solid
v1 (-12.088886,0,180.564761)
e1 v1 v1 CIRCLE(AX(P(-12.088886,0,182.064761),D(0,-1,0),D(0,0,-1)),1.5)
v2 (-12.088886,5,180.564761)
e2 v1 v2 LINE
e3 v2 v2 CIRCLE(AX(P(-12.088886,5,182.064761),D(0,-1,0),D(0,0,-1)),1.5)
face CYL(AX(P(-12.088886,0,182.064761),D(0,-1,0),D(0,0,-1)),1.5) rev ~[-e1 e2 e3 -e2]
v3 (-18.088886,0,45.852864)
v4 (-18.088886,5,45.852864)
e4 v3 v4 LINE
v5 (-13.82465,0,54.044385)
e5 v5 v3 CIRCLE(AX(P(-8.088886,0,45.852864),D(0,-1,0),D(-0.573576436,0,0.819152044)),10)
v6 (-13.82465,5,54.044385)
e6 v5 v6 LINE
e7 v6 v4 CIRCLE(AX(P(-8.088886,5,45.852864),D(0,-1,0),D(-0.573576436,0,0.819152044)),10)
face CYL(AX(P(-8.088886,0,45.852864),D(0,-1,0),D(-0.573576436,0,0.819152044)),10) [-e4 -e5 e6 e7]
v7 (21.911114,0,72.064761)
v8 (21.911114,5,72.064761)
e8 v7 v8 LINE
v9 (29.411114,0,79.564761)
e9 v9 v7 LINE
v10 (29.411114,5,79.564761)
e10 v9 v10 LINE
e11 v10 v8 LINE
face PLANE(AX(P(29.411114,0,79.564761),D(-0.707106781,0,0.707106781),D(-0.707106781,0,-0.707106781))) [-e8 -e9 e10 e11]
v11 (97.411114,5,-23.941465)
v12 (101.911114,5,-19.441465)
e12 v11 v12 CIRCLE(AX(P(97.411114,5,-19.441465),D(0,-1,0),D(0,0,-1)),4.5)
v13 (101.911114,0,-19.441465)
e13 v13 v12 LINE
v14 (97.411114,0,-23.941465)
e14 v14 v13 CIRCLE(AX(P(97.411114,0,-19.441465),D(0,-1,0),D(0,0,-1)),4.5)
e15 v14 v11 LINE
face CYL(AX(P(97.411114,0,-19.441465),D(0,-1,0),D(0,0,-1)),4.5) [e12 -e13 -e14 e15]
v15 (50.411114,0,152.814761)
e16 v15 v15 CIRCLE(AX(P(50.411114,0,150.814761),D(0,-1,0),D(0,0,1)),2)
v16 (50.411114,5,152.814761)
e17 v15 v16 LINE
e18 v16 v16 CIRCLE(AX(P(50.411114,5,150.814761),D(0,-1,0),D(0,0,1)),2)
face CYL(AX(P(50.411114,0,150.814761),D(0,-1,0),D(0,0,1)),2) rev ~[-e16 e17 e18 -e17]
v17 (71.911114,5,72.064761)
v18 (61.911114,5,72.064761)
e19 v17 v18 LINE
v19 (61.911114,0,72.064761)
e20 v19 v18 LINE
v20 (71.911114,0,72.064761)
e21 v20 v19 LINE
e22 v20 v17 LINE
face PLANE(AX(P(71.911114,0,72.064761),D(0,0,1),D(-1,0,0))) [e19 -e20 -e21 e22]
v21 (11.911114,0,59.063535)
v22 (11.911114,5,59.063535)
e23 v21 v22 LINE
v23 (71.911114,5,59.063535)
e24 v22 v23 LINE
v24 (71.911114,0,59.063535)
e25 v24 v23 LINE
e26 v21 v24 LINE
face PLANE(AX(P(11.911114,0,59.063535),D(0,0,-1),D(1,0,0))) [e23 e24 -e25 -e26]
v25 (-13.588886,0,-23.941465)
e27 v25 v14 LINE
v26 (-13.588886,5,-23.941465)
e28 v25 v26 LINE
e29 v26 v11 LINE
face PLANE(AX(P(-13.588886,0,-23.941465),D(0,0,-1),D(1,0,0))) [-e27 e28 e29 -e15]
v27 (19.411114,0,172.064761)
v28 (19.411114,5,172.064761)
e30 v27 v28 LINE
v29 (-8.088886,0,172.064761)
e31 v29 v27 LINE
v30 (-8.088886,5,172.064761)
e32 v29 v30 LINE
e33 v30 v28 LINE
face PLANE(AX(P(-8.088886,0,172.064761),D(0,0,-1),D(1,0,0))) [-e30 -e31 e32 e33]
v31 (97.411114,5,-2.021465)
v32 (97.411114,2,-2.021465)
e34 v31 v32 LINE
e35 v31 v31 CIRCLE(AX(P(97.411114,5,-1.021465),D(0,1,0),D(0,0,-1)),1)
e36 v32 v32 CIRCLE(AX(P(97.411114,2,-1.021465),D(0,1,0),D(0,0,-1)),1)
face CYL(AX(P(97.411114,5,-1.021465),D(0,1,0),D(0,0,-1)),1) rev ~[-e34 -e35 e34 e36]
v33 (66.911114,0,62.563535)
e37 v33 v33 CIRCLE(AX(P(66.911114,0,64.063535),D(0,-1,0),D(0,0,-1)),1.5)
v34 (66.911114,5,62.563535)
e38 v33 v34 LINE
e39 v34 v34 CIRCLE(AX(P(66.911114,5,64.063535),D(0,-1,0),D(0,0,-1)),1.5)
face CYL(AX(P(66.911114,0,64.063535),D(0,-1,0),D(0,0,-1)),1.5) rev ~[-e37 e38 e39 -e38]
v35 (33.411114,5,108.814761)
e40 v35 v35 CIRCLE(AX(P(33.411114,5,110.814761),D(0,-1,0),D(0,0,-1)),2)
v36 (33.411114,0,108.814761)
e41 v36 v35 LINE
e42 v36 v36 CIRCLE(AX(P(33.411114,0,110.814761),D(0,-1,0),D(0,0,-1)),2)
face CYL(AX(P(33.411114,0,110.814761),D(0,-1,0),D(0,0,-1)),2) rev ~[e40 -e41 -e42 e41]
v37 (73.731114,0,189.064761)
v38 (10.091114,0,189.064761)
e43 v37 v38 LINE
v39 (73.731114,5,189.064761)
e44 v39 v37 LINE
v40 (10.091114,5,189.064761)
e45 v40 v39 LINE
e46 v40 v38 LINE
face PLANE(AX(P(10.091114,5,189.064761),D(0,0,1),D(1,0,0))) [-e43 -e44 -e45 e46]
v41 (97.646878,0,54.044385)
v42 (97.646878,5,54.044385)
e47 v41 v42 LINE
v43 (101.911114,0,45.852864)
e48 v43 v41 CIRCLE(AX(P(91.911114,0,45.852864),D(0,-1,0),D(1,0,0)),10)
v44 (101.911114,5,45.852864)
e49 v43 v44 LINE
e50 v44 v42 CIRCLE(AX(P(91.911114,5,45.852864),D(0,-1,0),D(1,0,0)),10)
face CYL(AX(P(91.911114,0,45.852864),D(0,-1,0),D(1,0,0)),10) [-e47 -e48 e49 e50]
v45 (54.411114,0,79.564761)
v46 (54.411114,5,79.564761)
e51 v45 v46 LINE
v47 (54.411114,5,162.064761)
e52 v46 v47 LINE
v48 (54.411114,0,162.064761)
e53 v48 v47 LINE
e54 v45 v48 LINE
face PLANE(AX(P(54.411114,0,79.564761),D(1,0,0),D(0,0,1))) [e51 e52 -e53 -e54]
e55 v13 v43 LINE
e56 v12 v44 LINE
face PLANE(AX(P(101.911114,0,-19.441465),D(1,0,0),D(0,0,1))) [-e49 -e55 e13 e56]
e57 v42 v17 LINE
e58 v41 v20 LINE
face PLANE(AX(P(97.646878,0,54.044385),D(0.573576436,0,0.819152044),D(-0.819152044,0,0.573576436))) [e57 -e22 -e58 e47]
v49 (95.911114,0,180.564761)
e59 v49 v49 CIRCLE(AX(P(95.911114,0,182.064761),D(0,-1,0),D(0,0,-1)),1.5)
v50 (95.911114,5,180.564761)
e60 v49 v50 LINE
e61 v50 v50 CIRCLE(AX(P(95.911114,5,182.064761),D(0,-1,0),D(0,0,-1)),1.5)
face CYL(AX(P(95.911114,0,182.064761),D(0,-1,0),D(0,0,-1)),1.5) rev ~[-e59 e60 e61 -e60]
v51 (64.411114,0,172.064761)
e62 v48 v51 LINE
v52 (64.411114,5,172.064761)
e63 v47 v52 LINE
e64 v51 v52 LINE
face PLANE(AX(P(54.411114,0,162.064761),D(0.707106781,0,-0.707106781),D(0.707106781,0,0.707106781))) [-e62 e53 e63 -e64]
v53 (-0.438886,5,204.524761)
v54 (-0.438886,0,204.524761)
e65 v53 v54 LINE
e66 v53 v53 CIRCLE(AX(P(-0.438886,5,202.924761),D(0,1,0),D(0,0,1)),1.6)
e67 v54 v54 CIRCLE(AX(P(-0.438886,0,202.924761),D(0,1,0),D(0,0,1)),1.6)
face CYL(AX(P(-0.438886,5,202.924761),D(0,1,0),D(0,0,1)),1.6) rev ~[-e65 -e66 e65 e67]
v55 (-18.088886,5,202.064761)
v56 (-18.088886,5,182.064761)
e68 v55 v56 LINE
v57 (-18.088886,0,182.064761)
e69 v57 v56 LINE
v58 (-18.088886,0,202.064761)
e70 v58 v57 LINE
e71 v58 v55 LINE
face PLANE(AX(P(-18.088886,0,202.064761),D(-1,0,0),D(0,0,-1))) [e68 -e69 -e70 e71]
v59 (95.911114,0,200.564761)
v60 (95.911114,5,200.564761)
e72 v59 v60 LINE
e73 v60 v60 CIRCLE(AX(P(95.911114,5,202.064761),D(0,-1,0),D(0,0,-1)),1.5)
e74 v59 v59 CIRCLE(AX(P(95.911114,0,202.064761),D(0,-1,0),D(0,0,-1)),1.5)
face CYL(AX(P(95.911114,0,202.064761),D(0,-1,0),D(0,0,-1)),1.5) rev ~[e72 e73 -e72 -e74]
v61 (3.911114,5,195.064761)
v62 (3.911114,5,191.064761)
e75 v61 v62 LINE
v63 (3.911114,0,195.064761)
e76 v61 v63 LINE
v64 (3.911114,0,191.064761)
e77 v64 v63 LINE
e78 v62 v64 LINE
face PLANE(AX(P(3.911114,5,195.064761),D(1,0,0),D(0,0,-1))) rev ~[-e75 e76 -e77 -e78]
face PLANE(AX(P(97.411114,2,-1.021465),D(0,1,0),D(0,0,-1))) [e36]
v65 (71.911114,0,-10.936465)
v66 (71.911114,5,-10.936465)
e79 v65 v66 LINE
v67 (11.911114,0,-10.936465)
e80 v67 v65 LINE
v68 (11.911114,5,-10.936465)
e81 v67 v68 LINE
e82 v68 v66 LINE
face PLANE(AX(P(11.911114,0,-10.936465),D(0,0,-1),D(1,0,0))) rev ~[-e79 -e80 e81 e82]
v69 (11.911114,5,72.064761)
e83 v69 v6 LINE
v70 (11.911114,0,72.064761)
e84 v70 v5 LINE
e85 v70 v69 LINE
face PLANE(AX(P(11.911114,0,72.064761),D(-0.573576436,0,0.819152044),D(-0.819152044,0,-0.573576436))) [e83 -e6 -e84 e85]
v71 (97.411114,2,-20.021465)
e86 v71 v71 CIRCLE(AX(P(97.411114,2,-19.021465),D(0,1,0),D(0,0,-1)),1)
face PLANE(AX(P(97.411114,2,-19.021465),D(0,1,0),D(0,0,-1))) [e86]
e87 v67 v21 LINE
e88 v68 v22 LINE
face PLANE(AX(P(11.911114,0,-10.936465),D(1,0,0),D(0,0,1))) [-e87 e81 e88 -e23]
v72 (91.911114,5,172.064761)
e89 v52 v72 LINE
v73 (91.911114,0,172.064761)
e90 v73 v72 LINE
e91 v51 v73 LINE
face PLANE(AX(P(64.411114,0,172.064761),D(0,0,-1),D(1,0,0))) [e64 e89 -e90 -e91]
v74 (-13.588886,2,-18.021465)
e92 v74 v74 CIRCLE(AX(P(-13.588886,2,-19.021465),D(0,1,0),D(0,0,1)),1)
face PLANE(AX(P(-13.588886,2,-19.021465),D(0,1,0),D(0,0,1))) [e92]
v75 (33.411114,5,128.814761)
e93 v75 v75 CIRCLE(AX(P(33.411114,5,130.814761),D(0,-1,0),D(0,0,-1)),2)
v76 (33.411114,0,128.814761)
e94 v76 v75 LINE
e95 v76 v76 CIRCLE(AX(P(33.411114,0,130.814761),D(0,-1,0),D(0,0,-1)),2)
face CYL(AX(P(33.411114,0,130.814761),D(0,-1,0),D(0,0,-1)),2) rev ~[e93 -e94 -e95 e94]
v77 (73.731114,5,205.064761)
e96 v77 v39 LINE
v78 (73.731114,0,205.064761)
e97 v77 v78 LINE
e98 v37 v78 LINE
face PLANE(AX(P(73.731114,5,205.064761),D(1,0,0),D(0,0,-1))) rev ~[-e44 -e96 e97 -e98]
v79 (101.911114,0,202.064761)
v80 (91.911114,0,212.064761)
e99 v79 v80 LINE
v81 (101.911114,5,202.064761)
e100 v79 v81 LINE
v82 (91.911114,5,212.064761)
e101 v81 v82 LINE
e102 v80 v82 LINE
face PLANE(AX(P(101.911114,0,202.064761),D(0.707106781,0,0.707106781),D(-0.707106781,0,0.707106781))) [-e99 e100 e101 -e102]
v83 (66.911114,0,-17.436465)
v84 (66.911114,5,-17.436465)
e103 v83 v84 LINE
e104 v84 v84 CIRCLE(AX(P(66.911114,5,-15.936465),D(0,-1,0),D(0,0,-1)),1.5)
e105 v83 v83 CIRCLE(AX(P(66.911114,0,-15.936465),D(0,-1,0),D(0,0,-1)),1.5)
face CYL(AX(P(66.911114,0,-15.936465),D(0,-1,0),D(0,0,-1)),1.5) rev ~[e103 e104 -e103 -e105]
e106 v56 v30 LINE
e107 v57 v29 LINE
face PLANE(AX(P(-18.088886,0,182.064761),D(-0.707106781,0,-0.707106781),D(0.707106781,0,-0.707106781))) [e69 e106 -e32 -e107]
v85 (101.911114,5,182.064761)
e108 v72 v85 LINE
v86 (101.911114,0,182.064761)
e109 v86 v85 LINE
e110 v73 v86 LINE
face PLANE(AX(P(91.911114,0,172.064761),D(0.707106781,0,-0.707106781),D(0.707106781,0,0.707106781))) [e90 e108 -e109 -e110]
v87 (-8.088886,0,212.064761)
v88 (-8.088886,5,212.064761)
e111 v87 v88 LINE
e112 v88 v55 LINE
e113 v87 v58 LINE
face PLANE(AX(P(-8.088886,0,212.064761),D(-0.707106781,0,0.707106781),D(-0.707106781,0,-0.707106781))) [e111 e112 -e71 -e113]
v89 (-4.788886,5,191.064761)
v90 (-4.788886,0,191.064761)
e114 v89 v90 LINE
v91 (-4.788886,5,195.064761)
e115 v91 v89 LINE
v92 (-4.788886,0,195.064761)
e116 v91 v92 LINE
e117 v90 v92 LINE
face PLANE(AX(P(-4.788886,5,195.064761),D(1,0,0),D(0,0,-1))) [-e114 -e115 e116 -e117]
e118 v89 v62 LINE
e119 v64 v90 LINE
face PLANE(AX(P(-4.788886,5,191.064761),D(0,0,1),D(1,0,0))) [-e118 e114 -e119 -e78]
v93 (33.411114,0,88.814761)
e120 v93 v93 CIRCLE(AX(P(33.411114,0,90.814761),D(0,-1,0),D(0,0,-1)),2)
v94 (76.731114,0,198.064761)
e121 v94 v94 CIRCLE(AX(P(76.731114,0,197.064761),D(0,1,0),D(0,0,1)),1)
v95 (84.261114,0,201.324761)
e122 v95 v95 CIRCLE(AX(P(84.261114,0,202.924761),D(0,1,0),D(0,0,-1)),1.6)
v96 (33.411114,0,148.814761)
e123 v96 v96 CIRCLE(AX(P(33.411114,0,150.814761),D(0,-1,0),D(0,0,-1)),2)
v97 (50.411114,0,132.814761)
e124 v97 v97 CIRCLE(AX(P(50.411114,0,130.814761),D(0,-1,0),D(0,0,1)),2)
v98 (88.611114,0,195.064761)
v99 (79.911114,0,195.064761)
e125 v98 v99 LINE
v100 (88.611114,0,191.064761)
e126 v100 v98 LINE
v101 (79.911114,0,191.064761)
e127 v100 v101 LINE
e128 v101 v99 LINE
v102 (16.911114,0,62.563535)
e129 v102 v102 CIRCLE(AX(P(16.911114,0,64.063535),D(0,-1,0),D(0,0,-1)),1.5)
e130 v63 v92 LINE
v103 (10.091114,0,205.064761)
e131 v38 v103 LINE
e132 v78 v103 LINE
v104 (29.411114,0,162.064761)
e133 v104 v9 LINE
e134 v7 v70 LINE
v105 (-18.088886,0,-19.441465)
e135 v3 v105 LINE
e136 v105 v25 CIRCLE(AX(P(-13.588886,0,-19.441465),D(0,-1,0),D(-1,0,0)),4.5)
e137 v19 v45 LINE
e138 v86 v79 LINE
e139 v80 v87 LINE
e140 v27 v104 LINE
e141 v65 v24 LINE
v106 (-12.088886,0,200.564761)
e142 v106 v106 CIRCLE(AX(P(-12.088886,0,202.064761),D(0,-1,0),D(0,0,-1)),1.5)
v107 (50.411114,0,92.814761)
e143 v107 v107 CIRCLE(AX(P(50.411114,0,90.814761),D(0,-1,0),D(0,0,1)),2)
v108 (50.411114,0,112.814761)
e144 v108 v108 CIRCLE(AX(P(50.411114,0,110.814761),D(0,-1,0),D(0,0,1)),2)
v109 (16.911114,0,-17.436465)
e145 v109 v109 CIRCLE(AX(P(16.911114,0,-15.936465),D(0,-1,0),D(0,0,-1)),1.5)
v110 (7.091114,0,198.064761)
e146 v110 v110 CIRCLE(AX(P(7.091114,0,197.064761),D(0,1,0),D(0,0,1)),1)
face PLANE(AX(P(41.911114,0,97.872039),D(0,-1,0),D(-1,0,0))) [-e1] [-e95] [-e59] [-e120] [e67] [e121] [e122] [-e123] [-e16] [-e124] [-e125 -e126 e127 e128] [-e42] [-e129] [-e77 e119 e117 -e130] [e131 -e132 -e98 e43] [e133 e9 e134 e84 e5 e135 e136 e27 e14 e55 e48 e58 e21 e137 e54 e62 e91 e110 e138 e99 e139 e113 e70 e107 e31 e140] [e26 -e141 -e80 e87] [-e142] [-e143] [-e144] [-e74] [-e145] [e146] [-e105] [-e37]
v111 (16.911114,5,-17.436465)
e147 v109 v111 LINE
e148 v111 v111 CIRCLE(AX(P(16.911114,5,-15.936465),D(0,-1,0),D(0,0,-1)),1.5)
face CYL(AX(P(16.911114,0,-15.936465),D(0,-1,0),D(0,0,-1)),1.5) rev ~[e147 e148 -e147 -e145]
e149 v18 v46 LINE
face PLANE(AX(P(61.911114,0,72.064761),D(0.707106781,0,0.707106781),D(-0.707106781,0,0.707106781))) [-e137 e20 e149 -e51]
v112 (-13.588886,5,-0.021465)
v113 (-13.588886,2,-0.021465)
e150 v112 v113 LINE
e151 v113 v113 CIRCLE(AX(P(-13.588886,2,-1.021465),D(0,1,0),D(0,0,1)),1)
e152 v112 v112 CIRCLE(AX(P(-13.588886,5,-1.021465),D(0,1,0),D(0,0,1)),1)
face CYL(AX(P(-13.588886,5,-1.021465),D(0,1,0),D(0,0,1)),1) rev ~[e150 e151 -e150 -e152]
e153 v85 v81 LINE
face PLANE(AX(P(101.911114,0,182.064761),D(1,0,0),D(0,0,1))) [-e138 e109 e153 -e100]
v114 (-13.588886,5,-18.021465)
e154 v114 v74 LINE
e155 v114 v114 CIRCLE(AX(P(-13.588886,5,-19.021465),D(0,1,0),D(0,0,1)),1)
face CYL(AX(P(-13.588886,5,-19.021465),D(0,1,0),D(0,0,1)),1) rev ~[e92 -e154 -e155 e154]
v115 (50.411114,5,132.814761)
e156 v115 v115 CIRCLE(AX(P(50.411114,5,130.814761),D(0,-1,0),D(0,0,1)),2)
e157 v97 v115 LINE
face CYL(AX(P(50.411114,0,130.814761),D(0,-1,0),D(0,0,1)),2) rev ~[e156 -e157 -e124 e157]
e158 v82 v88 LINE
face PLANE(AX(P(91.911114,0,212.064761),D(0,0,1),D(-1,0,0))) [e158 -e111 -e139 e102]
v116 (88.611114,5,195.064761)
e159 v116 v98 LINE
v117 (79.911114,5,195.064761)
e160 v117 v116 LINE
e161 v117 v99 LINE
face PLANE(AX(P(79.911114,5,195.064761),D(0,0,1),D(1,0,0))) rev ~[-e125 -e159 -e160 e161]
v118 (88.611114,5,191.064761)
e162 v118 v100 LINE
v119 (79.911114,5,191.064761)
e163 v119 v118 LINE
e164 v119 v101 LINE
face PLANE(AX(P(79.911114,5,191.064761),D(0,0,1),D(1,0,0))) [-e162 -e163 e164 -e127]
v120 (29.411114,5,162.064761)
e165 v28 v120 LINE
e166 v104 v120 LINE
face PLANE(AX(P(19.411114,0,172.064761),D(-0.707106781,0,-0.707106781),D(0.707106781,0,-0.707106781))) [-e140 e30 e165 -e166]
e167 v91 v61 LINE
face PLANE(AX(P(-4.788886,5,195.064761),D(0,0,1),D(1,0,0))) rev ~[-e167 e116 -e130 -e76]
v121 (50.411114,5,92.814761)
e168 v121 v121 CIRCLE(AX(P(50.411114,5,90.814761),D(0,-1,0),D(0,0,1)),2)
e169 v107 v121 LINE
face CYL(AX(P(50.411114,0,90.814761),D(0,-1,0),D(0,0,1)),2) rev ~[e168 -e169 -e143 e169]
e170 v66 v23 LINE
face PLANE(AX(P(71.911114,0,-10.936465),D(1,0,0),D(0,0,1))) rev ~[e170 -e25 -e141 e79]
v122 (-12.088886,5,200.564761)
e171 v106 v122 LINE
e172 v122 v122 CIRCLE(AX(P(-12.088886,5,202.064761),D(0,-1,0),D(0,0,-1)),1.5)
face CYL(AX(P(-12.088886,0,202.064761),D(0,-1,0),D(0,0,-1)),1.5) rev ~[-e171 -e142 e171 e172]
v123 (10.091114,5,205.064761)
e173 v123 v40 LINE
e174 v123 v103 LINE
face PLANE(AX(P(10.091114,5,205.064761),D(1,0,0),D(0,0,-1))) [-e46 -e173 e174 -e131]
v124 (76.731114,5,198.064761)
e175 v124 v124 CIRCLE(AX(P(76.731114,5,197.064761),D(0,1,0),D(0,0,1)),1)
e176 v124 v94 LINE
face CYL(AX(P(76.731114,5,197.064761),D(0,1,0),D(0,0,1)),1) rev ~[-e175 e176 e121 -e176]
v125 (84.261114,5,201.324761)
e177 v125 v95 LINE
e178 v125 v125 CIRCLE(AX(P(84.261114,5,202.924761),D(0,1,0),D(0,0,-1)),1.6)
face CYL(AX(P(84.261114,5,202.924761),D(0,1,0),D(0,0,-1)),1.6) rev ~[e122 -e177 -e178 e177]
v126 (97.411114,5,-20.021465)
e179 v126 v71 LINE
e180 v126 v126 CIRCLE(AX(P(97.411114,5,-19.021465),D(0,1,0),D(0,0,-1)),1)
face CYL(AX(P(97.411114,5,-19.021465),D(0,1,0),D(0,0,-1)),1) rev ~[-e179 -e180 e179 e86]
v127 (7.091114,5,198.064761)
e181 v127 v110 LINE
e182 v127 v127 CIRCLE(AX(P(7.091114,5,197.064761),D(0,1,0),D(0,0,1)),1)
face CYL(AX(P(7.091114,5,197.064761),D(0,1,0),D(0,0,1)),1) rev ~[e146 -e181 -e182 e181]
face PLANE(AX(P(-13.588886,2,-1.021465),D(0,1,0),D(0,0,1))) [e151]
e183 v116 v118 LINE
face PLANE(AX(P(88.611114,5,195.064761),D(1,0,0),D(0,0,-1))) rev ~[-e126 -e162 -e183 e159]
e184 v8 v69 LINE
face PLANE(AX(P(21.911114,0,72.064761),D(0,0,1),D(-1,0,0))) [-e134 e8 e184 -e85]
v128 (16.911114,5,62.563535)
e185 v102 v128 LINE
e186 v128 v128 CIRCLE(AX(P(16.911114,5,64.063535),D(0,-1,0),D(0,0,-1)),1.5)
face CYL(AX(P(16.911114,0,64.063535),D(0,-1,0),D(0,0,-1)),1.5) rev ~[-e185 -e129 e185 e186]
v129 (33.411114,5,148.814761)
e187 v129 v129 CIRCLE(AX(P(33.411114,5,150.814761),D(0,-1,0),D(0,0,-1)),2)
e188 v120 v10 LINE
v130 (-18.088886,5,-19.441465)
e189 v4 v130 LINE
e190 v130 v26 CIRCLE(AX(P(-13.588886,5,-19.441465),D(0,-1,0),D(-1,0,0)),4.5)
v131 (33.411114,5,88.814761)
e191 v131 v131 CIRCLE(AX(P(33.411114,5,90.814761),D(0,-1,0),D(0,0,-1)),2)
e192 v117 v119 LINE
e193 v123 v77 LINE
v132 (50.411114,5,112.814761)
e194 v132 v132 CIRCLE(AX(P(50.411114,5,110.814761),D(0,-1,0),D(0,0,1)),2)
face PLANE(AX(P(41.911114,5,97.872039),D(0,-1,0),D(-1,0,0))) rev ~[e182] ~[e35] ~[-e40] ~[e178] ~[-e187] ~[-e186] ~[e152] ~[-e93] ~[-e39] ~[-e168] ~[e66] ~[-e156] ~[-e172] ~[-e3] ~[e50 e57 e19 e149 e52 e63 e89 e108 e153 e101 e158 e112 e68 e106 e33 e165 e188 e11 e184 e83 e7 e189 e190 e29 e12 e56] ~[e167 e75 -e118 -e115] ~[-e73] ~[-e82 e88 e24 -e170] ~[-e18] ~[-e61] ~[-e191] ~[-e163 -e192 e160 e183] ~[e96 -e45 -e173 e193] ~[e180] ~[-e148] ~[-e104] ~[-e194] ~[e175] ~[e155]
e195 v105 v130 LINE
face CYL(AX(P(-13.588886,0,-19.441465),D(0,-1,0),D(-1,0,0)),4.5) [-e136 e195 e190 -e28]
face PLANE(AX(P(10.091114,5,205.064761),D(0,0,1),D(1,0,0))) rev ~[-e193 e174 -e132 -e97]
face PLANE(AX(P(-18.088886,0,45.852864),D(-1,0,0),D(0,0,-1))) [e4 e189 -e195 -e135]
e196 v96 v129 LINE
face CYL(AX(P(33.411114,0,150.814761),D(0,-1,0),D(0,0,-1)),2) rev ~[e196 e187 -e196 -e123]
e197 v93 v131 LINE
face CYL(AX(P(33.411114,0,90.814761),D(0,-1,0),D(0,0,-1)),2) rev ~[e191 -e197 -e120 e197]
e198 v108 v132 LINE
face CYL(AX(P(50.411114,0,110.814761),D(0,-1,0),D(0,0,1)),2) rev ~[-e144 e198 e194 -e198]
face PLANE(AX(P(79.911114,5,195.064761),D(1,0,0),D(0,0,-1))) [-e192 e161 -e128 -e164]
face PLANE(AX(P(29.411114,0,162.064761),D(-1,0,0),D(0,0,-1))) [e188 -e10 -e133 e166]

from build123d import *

# Parameters (mm, degrees)
BASE_DEPTH               = 5
ESBO_O2_R                = 1
FURO_BRACKET_MOTOR_DEPTH = 3
ESBO_O4_W                = 60
ESBO_O4_H                = 70
ENCAIXE_PCB_DEPTH        = 236.334523507
ESBO_O6_R                = 1.5
PARAFUSO_PCB_DEPTH       = 236.334523507
ESBO_O7_R                = 2
ENFORCA_GATO_DEPTH       = 236.334523507
ESBO_O8_R                = 1.5
PARAFUSO_APOIO_DEPTH     = 10
ESBO_O9_R                = 1
ESBO_O9_R_2              = 1.6
ESBO_O9_W                = 63.64
ESBO_O9_H                = 16
ESBO_O9_W_2              = 8.7
ESBO_O9_H_2              = 4
CORTE_EXTRUS_O1_DEPTH    = 10


with BuildPart() as part:
    # Esboço1 → Base (new body)
    with BuildSketch(Plane(origin=(0, 0, 0), x_dir=(1, 0, 0), z_dir=(0, 1, 0))):
        with BuildLine():
            Line((-18.088885989, 17.941465294), (-18.088885989, 19.441465294))
            ThreePointArc((-18.088885989, 19.441465294), (-16.770866504, 22.623445809), (-13.588885989, 23.941465294))
            Line((-13.588885989, 23.941465294), (97.411114011, 23.941465294))
            ThreePointArc((97.411114011, 23.941465294), (100.593094526, 22.623445809), (101.911114011, 19.441465294))
            Line((101.911114011, 19.441465294), (101.911114011, 17.941465294))
            Line((101.911114011, 17.941465294), (101.911114011, -45.8528642))
            ThreePointArc((101.911114011, -45.8528642), (100.781222343, -50.470350333), (97.646878374, -54.044384643))
            Line((97.646878374, -54.044384643), (71.911114011, -72.064760852))
            Line((71.911114011, -72.064760852), (61.911114011, -72.064760852))
            Line((61.911114011, -72.064760852), (54.411114011, -79.564760852))
            Line((54.411114011, -79.564760852), (54.411114011, -162.064760852))
            Line((54.411114011, -162.064760852), (64.411114011, -172.064760852))
            Line((64.411114011, -172.064760852), (91.911114011, -172.064760852))
            Line((91.911114011, -172.064760852), (101.911114011, -182.064760852))
            Line((101.911114011, -182.064760852), (101.911114011, -202.064760852))
            Line((101.911114011, -202.064760852), (91.911114011, -212.064760852))
            Line((91.911114011, -212.064760852), (-8.088885989, -212.064760852))
            Line((-8.088885989, -212.064760852), (-18.088885989, -202.064760852))
            Line((-18.088885989, -202.064760852), (-18.088885989, -182.064760852))
            Line((-18.088885989, -182.064760852), (-8.088885989, -172.064760852))
            Line((-8.088885989, -172.064760852), (19.411114011, -172.064760852))
            Line((19.411114011, -172.064760852), (29.411114011, -162.064760852))
            Line((29.411114011, -162.064760852), (29.411114011, -79.564760852))
            Line((29.411114011, -79.564760852), (21.911114011, -72.064760852))
            Line((21.911114011, -72.064760852), (11.911114011, -72.064760852))
            Line((11.911114011, -72.064760852), (-13.824650353, -54.044384643))
            ThreePointArc((-13.824650353, -54.044384643), (-16.958994321, -50.470350333), (-18.088885989, -45.8528642))
            Line((-18.088885989, -45.8528642), (-18.088885989, 17.941465294))
        make_face()
    extrude(amount=BASE_DEPTH)

    # Esboço2 → Furo Bracket Motor (cut)
    with BuildSketch(Plane(origin=(0, 5, 0), x_dir=(1, 0, 0), z_dir=(0, 1, 0))):
        with Locations(Location((-13.588885989, 19.021465294, 0), (0, 0, 270))):
            Circle(ESBO_O2_R)
        with Locations(Location((-13.588885989, 1.021465294, 0), (0, 0, 270))):
            Circle(ESBO_O2_R)
        with Locations(Location((97.411114011, 1.021465294, 0), (0, 0, 90))):
            Circle(ESBO_O2_R)
        with Locations(Location((97.411114011, 19.021465294, 0), (0, 0, 90))):
            Circle(ESBO_O2_R)
    extrude(amount=-FURO_BRACKET_MOTOR_DEPTH, mode=Mode.SUBTRACT)

    # Esboço4 → Encaixe PCB (cut, through all)
    with BuildSketch(Plane.XZ):
        with Locations((41.911114011, 24.063534706)):
            Rectangle(ESBO_O4_W, ESBO_O4_H)
    extrude(amount=-ENCAIXE_PCB_DEPTH, mode=Mode.SUBTRACT)

    # Esboço6 → Parafuso PCB (cut, through all)
    with BuildSketch(Plane.XZ):
        with Locations(Location((16.911114011, 64.063534706, 0), (0, 0, 270))):
            Circle(ESBO_O6_R)
        with Locations(Location((66.911114011, 64.063534706, 0), (0, 0, 270))):
            Circle(ESBO_O6_R)
        with Locations(Location((66.911114011, -15.936465294, 0), (0, 0, 270))):
            Circle(ESBO_O6_R)
        with Locations(Location((16.911114011, -15.936465294, 0), (0, 0, 270))):
            Circle(ESBO_O6_R)
    extrude(amount=-PARAFUSO_PCB_DEPTH, mode=Mode.SUBTRACT)

    # Esboço7 → Enforca Gato (cut, through all)
    with BuildSketch(Plane.XZ):
        with Locations(Location((33.411114011, 90.814760852, 0), (0, 0, 270))):
            Circle(ESBO_O7_R)
        with Locations(Location((33.411114011, 110.814760852, 0), (0, 0, 270))):
            Circle(ESBO_O7_R)
        with Locations(Location((33.411114011, 130.814760852, 0), (0, 0, 270))):
            Circle(ESBO_O7_R)
        with Locations(Location((33.411114011, 150.814760852, 0), (0, 0, 270))):
            Circle(ESBO_O7_R)
        with Locations(Location((50.411114011, 150.814760852, 0), (0, 0, 90))):
            Circle(ESBO_O7_R)
        with Locations(Location((50.411114011, 130.814760852, 0), (0, 0, 90))):
            Circle(ESBO_O7_R)
        with Locations(Location((50.411114011, 110.814760852, 0), (0, 0, 90))):
            Circle(ESBO_O7_R)
        with Locations(Location((50.411114011, 90.814760852, 0), (0, 0, 90))):
            Circle(ESBO_O7_R)
    extrude(amount=-ENFORCA_GATO_DEPTH, mode=Mode.SUBTRACT)

    # Esboço8 → Parafuso Apoio (cut)
    with BuildSketch(Plane.XZ):
        with Locations(Location((95.911114011, 182.064760852, 0), (0, 0, 270))):
            Circle(ESBO_O8_R)
        with Locations(Location((95.911114011, 202.064760852, 0), (0, 0, 270))):
            Circle(ESBO_O8_R)
        with Locations(Location((-12.088885989, 202.064760852, 0), (0, 0, 270))):
            Circle(ESBO_O8_R)
        with Locations(Location((-12.088885989, 182.064760852, 0), (0, 0, 270))):
            Circle(ESBO_O8_R)
    extrude(amount=-PARAFUSO_APOIO_DEPTH, mode=Mode.SUBTRACT)

    # Esboço9 → Corte-extrusão1 (cut)
    with BuildSketch(Plane(origin=(0, 5, 0), x_dir=(1, 0, 0), z_dir=(0, 1, 0))):
        with Locations(Location((76.731114011, -197.064760852, 0), (0, 0, 270))):
            Circle(ESBO_O9_R)
        with Locations(Location((7.091114011, -197.064760852, 0), (0, 0, 270))):
            Circle(ESBO_O9_R)
        with Locations(Location((-0.438885989, -202.924760852, 0), (0, 0, 270))):
            Circle(ESBO_O9_R_2)
        with Locations(Location((84.261114011, -202.924760852, 0), (0, 0, 90))):
            Circle(ESBO_O9_R_2)
        with Locations((41.911114011, -197.064760852)):
            Rectangle(ESBO_O9_W, ESBO_O9_H)
        with Locations((-0.438885989, -193.064760852)):
            Rectangle(ESBO_O9_W_2, ESBO_O9_H_2)
        with Locations((84.261114011, -193.064760852)):
            Rectangle(ESBO_O9_W_2, ESBO_O9_H_2)
    extrude(amount=-CORTE_EXTRUS_O1_DEPTH, mode=Mode.SUBTRACT)


solid = part.part
